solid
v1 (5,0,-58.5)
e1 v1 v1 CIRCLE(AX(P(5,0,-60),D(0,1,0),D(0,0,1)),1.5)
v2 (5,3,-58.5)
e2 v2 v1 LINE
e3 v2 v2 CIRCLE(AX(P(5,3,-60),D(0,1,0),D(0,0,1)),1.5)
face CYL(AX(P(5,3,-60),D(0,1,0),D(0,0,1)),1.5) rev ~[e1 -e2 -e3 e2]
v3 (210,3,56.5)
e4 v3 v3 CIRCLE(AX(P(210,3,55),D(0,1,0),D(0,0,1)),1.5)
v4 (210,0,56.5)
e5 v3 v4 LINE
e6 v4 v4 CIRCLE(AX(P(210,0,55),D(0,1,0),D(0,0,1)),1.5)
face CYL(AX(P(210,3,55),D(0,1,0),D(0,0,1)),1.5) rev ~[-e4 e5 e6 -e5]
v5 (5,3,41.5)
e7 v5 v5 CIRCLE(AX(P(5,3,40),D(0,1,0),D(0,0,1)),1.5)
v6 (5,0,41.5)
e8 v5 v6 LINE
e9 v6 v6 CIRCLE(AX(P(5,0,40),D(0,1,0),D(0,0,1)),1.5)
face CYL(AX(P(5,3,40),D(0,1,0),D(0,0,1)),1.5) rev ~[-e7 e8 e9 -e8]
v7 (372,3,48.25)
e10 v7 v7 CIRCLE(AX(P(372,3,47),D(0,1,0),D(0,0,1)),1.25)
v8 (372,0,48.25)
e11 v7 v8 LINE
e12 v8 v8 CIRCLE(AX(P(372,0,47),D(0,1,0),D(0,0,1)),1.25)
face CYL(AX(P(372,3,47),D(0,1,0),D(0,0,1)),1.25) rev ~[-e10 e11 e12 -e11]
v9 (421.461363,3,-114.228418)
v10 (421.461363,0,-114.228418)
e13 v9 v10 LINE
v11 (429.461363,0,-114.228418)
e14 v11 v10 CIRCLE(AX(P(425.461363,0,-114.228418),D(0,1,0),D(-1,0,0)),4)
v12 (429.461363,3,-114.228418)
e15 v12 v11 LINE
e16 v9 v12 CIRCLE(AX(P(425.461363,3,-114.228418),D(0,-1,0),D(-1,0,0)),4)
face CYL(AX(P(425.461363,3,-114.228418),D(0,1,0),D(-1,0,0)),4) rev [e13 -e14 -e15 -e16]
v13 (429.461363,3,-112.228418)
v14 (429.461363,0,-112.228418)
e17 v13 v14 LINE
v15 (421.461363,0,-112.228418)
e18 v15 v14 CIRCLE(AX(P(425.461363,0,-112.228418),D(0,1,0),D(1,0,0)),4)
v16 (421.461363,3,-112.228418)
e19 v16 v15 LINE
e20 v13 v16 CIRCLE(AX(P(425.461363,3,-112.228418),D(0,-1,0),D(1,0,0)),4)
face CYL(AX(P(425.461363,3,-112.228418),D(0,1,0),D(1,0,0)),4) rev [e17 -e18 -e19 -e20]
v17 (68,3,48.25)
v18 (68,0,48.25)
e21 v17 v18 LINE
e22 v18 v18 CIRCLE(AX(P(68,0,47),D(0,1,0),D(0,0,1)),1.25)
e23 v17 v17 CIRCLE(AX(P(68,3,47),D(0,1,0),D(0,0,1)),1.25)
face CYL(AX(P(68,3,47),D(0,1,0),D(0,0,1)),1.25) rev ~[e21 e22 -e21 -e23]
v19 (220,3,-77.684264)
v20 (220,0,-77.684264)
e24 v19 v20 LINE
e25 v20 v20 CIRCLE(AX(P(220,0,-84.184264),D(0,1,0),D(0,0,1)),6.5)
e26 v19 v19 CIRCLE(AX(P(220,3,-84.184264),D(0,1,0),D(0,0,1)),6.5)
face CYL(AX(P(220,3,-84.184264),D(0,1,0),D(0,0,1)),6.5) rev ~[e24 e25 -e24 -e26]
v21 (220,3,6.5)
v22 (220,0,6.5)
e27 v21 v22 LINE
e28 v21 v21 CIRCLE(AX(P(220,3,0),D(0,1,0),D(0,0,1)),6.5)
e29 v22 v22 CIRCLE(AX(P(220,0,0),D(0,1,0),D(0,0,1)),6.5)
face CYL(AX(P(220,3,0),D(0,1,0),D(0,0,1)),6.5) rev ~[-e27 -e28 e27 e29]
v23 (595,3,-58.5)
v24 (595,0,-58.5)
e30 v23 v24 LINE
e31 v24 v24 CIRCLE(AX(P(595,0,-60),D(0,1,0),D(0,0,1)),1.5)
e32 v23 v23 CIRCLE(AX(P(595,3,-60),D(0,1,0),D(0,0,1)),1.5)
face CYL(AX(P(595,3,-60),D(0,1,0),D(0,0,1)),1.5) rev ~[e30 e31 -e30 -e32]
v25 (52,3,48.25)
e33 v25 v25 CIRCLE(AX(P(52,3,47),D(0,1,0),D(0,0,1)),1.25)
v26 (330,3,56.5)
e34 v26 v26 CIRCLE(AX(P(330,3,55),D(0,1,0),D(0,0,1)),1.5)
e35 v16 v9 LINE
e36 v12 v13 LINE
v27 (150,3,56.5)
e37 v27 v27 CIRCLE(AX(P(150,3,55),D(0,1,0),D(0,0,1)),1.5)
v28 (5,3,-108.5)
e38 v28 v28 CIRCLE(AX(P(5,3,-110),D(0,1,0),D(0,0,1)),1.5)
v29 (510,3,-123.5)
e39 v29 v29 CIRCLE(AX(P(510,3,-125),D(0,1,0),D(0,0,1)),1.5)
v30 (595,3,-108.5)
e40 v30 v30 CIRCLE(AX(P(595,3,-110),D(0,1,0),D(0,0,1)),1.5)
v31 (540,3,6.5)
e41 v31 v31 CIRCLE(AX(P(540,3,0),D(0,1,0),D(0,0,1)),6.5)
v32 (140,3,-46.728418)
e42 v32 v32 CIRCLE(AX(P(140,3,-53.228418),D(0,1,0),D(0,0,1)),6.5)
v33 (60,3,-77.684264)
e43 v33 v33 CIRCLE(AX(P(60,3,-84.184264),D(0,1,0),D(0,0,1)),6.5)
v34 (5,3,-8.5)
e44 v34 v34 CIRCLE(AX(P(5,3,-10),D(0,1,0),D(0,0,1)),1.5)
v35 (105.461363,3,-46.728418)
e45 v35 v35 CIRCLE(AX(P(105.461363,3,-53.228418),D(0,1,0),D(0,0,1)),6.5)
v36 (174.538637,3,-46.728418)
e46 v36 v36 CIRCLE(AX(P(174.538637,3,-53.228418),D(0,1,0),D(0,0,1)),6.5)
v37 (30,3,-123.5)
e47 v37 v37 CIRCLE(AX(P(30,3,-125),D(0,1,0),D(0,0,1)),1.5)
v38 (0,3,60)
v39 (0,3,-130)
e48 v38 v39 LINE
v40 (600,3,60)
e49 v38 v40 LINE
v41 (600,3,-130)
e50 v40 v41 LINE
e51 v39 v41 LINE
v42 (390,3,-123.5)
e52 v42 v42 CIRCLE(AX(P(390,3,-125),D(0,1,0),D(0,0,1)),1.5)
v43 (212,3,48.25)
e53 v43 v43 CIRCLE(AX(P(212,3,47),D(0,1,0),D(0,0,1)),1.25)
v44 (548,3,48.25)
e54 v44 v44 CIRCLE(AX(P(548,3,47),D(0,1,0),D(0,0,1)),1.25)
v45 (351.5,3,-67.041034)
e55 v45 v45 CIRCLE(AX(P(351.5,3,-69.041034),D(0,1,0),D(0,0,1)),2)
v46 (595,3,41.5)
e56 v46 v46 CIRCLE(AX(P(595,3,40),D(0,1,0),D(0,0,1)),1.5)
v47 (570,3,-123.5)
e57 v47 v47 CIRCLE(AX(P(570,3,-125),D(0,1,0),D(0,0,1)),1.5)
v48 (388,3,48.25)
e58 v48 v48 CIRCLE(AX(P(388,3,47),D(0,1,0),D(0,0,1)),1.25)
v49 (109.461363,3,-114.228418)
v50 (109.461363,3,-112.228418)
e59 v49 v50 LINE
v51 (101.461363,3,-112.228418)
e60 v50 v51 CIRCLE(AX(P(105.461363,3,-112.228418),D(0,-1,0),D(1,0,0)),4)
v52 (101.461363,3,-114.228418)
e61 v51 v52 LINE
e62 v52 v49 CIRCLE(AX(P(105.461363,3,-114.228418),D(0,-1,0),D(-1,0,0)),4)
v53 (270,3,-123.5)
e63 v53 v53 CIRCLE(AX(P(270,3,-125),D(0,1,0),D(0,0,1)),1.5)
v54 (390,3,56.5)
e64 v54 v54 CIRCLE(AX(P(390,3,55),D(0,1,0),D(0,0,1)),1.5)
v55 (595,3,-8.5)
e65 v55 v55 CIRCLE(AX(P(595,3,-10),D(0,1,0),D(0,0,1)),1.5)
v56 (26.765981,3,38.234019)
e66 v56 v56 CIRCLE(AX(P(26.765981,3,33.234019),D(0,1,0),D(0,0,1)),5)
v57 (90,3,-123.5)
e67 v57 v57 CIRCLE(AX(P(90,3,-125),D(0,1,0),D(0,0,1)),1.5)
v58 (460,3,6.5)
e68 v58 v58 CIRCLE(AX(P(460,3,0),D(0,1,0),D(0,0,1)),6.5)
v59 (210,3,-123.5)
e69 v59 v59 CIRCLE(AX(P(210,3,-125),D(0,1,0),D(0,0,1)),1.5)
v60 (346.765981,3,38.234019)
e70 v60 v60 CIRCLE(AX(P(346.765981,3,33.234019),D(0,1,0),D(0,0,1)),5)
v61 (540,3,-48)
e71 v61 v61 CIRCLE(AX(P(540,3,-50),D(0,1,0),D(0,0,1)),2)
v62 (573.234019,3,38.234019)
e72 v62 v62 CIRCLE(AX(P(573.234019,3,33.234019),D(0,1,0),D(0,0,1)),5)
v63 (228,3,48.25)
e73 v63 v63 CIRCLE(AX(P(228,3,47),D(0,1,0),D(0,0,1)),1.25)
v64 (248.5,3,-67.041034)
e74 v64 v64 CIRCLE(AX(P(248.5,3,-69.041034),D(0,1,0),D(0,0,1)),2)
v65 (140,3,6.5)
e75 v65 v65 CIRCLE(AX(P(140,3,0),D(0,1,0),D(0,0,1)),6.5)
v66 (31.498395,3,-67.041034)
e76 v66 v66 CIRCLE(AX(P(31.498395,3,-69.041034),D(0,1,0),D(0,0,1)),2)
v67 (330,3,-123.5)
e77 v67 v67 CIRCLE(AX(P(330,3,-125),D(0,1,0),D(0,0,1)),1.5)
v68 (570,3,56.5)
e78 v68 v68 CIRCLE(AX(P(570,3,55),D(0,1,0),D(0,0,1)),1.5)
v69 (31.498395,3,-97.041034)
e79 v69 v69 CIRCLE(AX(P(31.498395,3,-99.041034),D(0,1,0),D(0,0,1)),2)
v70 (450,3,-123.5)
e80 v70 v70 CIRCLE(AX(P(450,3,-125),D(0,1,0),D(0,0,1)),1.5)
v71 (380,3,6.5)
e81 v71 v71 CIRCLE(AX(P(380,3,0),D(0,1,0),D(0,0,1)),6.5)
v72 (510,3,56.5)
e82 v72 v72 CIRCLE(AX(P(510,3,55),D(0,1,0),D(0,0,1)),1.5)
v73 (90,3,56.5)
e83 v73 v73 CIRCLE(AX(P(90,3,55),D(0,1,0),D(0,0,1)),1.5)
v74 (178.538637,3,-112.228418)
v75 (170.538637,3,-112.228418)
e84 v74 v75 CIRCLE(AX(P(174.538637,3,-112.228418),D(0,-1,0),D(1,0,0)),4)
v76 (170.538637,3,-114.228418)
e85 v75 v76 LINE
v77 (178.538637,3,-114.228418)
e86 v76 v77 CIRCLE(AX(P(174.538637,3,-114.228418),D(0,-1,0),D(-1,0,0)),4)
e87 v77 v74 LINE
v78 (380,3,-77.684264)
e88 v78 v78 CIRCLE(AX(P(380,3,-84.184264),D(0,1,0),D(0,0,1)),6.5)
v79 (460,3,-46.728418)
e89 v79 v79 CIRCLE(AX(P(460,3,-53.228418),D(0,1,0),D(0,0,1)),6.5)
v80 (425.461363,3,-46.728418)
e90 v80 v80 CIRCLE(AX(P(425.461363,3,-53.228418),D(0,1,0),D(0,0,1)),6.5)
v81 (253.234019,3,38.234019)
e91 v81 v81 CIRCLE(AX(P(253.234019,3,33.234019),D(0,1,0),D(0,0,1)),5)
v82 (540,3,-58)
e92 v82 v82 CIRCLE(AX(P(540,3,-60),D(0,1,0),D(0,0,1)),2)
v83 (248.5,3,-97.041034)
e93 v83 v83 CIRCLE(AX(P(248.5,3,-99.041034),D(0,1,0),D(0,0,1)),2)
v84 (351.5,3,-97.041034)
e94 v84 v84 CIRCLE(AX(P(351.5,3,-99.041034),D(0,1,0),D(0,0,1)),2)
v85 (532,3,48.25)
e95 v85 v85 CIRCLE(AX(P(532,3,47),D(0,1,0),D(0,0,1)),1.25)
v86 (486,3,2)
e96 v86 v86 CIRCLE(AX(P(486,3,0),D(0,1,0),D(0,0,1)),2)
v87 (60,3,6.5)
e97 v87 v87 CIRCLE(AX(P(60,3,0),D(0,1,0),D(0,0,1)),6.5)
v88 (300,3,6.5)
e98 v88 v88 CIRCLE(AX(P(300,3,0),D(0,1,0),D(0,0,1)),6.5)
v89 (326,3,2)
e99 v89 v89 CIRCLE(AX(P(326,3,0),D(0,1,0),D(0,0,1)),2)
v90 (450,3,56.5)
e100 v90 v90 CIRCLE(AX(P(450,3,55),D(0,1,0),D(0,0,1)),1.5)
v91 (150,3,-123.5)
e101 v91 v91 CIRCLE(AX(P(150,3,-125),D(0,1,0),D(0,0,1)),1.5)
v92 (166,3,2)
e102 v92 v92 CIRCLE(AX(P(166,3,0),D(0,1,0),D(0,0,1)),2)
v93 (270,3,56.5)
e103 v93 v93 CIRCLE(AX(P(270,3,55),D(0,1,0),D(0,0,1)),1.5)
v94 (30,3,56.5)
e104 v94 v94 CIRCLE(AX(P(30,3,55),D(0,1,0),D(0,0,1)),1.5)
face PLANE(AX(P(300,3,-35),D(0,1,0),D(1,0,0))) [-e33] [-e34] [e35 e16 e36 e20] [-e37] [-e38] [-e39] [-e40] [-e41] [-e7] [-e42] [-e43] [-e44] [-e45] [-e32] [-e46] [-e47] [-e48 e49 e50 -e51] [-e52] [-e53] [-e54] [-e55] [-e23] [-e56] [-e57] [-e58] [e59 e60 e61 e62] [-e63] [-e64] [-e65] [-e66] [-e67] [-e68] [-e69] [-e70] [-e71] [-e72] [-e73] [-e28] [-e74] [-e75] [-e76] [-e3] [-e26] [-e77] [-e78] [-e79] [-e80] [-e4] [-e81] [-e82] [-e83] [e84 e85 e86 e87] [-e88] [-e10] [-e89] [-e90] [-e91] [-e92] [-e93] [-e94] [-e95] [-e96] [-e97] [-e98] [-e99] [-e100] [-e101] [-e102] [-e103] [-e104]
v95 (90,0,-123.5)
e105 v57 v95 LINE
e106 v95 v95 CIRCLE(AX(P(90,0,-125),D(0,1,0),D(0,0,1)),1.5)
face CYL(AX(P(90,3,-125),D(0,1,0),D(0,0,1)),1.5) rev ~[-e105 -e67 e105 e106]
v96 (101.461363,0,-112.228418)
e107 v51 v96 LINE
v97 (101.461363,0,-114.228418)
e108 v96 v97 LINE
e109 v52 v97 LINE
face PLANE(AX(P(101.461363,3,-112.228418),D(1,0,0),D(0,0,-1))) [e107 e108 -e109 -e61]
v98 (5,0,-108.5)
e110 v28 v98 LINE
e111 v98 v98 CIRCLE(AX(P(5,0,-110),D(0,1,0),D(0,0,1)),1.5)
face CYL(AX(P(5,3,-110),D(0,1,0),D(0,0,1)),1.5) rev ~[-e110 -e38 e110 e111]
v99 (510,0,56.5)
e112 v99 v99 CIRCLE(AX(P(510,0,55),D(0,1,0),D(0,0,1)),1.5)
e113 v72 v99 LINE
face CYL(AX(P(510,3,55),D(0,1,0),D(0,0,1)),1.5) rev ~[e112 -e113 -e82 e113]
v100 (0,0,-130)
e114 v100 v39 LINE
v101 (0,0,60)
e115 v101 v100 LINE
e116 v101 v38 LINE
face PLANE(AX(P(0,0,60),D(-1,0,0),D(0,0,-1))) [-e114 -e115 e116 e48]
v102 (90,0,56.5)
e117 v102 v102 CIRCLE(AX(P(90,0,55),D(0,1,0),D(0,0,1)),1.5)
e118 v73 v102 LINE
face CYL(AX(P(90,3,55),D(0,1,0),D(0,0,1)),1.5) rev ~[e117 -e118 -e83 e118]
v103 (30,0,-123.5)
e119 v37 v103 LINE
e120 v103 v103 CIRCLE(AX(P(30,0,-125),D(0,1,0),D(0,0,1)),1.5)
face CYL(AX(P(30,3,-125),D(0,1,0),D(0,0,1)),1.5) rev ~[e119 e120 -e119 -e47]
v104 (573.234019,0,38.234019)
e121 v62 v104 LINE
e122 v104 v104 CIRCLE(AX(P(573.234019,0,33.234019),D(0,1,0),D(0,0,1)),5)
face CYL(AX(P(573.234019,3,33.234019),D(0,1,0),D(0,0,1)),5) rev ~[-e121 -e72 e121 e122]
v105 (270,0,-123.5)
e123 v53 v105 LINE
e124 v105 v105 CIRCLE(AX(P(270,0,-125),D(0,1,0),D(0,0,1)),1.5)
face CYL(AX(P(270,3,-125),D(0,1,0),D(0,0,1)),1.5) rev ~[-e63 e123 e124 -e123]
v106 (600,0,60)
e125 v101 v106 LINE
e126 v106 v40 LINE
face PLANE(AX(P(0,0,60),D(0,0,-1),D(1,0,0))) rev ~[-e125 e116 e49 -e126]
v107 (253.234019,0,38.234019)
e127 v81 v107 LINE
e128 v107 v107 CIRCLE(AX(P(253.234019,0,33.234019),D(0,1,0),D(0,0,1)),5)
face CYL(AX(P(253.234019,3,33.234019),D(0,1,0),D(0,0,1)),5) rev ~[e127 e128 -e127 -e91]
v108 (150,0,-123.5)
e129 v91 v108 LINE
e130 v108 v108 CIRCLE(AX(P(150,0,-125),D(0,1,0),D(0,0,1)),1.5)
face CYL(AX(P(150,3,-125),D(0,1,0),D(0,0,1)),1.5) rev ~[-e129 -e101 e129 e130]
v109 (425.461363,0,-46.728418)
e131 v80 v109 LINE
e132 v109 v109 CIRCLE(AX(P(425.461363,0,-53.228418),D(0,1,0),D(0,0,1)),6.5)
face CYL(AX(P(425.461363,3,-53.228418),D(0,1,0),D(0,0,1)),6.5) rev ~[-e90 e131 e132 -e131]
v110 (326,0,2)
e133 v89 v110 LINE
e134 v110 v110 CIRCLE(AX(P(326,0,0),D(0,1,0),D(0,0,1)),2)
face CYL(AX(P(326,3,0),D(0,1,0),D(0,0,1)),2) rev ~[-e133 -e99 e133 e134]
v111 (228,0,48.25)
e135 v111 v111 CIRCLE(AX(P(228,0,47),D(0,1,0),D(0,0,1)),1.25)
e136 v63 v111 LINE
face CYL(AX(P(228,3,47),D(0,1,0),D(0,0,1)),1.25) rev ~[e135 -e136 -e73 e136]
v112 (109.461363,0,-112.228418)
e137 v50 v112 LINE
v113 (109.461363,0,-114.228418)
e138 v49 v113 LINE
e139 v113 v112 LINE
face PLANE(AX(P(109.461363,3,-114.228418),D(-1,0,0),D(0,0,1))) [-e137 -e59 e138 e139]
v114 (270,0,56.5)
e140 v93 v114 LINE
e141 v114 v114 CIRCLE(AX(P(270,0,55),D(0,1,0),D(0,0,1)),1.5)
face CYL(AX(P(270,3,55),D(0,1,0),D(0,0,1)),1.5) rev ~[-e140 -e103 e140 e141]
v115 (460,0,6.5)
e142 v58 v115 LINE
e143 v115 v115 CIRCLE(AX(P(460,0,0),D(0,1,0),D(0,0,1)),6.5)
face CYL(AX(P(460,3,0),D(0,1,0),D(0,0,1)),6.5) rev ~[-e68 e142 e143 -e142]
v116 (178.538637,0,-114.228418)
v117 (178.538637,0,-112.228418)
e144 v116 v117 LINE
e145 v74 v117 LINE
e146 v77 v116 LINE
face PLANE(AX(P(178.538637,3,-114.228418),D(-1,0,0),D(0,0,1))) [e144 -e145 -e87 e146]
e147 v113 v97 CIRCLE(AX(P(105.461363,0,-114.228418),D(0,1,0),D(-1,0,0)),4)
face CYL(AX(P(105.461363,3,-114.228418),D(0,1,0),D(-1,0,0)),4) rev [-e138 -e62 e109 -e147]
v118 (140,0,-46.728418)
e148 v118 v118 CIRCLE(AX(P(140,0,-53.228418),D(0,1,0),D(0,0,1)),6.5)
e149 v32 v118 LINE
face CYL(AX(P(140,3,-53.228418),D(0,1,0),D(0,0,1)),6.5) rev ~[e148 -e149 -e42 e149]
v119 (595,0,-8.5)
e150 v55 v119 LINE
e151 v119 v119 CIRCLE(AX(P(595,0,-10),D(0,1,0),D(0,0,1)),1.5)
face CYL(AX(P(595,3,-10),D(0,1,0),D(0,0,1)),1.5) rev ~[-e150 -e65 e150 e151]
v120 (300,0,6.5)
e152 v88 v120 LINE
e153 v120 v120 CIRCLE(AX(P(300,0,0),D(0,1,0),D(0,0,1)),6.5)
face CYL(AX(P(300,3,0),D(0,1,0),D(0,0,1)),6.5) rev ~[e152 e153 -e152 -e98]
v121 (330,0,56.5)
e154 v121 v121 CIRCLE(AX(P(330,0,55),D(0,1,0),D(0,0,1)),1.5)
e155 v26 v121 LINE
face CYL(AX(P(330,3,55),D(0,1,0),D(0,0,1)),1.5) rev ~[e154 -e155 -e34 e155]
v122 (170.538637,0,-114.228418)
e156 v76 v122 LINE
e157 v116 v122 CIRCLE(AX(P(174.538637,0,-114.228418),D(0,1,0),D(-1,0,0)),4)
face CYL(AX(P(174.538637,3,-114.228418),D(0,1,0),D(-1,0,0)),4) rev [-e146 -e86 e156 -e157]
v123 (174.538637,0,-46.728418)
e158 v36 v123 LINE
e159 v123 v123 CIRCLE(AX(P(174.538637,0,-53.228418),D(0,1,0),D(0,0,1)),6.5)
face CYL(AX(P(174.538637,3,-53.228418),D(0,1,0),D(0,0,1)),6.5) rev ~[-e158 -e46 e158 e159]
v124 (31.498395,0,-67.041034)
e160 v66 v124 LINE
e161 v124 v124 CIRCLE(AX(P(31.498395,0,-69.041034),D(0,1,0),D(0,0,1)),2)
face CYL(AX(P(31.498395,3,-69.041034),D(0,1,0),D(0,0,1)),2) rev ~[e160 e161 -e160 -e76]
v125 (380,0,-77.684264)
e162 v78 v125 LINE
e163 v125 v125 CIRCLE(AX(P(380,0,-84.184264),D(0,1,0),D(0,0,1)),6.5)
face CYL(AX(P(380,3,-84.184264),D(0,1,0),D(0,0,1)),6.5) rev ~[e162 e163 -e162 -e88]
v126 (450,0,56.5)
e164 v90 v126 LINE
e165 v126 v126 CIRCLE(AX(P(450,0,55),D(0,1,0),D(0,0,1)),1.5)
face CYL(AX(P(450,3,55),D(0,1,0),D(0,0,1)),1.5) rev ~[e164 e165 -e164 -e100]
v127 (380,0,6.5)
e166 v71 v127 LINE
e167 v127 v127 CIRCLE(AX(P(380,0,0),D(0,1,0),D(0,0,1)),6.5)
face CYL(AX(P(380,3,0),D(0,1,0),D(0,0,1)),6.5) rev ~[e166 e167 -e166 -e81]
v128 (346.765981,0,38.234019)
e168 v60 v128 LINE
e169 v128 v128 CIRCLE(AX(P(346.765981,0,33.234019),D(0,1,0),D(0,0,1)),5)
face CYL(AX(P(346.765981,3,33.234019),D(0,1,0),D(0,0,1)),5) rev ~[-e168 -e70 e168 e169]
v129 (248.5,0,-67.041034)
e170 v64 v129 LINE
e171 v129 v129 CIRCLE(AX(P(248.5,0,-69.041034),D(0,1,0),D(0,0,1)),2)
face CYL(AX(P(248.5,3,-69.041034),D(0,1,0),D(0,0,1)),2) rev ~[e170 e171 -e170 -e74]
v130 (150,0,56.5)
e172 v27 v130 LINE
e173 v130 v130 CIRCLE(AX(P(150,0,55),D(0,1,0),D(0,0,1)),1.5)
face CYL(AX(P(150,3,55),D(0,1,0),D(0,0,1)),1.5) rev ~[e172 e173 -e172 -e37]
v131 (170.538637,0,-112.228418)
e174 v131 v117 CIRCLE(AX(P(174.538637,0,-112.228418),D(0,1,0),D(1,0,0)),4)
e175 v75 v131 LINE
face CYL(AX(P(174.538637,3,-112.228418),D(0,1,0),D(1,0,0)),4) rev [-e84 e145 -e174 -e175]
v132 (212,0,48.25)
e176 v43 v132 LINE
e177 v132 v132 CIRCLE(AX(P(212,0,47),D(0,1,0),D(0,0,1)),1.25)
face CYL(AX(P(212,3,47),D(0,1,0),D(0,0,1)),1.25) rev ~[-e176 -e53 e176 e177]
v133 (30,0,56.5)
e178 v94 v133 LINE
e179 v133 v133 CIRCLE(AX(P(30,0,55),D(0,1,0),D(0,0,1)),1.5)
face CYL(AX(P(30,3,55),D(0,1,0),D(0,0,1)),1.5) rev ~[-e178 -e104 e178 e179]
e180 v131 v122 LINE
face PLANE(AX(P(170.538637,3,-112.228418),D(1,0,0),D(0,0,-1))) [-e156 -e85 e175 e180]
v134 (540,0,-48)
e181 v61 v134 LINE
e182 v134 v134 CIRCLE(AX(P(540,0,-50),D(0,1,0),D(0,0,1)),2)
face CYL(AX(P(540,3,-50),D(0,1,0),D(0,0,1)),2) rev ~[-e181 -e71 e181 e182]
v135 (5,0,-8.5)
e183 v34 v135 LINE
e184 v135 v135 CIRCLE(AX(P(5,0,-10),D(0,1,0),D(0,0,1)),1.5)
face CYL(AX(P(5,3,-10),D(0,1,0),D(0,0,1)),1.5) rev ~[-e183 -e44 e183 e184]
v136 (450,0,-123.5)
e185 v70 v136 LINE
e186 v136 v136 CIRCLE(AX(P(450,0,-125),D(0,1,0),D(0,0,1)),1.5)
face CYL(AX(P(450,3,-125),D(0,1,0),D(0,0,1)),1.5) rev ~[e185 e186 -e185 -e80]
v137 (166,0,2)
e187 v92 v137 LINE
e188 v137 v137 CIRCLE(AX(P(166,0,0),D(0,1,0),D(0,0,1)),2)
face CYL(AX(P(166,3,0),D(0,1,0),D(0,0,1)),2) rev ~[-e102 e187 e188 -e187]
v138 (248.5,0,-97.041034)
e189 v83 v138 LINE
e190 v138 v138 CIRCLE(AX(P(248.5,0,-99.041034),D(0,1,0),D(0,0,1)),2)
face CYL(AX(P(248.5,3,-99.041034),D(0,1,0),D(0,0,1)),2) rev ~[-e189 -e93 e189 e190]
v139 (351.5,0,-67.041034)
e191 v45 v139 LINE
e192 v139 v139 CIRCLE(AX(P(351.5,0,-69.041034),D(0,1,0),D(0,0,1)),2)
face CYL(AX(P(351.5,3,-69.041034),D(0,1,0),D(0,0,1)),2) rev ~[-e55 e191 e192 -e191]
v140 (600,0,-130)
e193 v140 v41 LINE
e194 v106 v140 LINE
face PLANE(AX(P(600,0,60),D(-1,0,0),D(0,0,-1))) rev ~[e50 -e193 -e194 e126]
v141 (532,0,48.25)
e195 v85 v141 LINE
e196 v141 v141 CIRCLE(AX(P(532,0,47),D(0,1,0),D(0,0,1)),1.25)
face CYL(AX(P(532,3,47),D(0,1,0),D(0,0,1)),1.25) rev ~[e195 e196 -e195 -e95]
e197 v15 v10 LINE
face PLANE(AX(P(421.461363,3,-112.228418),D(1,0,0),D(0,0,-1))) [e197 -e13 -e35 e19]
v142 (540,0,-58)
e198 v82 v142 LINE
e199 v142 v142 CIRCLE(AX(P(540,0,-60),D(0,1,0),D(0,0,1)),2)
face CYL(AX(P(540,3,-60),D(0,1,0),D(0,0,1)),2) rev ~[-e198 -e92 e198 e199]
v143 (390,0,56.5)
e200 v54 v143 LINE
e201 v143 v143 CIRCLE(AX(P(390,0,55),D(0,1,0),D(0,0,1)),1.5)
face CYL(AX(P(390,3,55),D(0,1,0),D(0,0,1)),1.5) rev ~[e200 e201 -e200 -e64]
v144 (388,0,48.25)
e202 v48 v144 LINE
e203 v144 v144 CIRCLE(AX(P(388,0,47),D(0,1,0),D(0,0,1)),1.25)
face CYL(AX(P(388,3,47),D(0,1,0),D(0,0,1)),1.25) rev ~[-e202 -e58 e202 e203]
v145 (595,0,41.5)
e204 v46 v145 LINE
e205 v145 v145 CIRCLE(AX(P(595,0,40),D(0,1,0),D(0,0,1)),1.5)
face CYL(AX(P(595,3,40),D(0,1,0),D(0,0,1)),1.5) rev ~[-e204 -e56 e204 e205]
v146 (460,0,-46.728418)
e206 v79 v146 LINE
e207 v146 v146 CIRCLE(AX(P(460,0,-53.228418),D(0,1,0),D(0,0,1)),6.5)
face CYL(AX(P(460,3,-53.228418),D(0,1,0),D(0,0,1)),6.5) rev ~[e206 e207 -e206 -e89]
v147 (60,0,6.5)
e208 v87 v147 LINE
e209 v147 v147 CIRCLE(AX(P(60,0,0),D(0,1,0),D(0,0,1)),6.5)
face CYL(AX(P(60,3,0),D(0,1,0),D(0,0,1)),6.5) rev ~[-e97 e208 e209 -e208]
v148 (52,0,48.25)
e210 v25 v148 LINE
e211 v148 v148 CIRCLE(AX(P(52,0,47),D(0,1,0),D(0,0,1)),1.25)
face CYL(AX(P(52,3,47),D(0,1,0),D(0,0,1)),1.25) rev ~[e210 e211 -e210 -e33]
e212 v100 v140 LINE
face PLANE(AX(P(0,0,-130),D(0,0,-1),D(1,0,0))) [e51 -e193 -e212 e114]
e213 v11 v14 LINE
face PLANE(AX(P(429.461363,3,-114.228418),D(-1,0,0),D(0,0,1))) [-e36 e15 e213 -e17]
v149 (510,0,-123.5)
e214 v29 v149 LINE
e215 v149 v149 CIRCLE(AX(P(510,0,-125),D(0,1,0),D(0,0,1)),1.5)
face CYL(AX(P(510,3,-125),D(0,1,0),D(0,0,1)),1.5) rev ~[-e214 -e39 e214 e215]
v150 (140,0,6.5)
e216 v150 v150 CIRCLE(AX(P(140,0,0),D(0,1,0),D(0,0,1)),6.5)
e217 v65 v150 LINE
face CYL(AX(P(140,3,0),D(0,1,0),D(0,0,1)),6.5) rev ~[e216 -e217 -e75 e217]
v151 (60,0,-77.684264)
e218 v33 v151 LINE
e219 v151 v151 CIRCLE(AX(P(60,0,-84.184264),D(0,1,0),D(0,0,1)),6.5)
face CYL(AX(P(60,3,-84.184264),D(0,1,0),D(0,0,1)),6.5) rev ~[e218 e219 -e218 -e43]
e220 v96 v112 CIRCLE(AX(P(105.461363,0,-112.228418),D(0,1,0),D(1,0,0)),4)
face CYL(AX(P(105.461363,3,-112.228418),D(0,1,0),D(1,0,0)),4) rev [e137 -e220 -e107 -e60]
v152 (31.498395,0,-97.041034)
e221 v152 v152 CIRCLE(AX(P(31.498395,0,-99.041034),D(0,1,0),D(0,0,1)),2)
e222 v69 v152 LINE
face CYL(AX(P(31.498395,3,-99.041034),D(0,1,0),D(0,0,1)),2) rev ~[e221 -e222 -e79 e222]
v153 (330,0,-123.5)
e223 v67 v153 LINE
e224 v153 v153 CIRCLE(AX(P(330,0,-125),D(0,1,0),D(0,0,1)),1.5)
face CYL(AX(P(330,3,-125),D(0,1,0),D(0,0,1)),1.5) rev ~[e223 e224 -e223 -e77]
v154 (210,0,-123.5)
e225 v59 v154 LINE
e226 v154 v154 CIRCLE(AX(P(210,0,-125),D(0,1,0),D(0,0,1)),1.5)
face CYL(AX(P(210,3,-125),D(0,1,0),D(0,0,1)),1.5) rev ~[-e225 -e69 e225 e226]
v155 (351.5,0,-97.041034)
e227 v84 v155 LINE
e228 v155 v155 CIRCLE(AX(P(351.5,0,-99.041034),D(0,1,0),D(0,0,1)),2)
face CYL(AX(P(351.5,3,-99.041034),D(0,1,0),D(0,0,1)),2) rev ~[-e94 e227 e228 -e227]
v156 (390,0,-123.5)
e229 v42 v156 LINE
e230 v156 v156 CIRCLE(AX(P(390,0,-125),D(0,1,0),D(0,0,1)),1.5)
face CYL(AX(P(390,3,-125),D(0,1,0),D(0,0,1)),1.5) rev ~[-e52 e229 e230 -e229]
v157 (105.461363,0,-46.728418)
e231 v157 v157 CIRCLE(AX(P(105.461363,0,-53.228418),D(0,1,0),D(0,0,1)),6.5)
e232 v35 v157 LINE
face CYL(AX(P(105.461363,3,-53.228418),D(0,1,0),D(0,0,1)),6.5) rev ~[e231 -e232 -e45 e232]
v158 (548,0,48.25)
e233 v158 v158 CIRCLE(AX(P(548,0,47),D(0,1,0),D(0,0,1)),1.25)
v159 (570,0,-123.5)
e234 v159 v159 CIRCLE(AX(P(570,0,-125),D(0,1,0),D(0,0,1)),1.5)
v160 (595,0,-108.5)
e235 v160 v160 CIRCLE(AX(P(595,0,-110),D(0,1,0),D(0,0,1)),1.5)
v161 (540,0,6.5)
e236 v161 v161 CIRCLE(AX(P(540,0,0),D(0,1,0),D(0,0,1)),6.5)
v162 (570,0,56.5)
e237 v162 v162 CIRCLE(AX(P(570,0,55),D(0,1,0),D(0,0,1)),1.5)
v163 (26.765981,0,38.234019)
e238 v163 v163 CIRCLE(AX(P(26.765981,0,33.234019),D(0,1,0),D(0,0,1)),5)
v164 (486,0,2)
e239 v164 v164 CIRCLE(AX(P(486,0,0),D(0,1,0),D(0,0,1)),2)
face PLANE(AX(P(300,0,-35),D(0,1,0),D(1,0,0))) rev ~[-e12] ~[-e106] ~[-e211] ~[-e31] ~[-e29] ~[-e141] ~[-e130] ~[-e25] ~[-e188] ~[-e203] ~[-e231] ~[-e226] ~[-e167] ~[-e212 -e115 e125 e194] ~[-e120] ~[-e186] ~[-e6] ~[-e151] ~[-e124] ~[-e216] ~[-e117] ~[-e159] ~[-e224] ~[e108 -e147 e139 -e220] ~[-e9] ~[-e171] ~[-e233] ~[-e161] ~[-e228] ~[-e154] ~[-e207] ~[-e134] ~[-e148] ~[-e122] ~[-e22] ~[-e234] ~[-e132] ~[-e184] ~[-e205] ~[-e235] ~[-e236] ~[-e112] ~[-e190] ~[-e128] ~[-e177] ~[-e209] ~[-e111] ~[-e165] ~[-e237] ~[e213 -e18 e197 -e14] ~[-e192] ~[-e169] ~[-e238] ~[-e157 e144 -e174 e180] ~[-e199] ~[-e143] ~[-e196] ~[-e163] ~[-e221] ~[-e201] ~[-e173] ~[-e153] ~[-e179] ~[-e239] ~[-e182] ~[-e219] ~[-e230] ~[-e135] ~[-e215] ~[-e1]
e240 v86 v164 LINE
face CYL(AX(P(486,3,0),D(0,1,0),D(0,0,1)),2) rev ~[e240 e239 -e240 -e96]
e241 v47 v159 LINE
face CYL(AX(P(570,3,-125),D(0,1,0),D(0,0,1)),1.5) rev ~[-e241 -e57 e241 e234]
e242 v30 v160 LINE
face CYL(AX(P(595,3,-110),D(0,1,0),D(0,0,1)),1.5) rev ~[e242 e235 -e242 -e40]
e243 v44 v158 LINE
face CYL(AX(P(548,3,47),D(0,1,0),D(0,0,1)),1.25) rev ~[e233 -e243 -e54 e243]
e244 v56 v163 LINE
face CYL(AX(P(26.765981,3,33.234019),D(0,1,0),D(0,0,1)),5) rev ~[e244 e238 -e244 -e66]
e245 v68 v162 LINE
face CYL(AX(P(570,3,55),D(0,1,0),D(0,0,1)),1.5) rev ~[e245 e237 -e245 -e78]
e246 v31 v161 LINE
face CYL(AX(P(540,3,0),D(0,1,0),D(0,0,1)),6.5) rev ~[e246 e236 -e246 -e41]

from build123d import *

# Parameters (mm, degrees)
SKETCH1_W           = 600
SKETCH1_H           = 190
EXTRUDE1_DEPTH      = 3
SKETCH2_R           = 6.5
CUT_EXTRUDE1_DEPTH  = 614.929149007
SKETCH5_R           = 2
CUT_EXTRUDE3_DEPTH  = 614.929149007
SKETCH8_R           = 6.5
SKETCH8_R_2         = 2
CUT_EXTRUDE4_DEPTH  = 614.929149007
SKETCH10_R          = 6.5
CUT_EXTRUDE5_DEPTH  = 614.929149007
SKETCH12_R          = 6.5
CUT_EXTRUDE6_DEPTH  = 614.929149007
SKETCH14_R          = 1.25
CUT_EXTRUDE7_DEPTH  = 614.929149007
SKETCH15_R          = 5
CUT_EXTRUDE8_DEPTH  = 614.929149007
CUT_EXTRUDE10_DEPTH = 614.929149007
SKETCH25_R          = 1.5
CUT_EXTRUDE11_DEPTH = 614.929149007
LPATTERN1_COUNT     = 10
LPATTERN1_PITCH     = 60
SKETCH26_R          = 1.5
CUT_EXTRUDE12_DEPTH = 614.929149007
SKETCH27_R          = 2
CUT_EXTRUDE13_DEPTH = 614.929149007


with BuildPart() as part:
    # Sketch1 → Extrude1 (new body)
    with BuildSketch(Plane(origin=(0, 0, 0), x_dir=(1, 0, 0), z_dir=(0, 1, 0))):
        with Locations((300, 35)):
            Rectangle(SKETCH1_W, SKETCH1_H)
    extrude(amount=EXTRUDE1_DEPTH)

    # Sketch2 → Cut-Extrude1 (cut, through all)
    with BuildSketch(Plane(origin=(0, 3, 0), x_dir=(-1, 0, 0), z_dir=(0, 1, 0))):
        with Locations((-60, 0)):
            Circle(SKETCH2_R)
        with Locations((-140, 0)):
            Circle(SKETCH2_R)
        with Locations((-220, 0)):
            Circle(SKETCH2_R)
        with Locations((-300, 0)):
            Circle(SKETCH2_R)
        with Locations((-380, 0)):
            Circle(SKETCH2_R)
        with Locations((-460, 0)):
            Circle(SKETCH2_R)
        with Locations((-540, 0)):
            Circle(SKETCH2_R)
    extrude(amount=-CUT_EXTRUDE1_DEPTH, mode=Mode.SUBTRACT)

    # Sketch5 → Cut-Extrude3 (cut, through all)
    with BuildSketch(Plane(origin=(0, 3, 0), x_dir=(-1, 0, 0), z_dir=(0, 1, 0))):
        with Locations((-166, 0)):
            Circle(SKETCH5_R)
        with Locations((-326, 0)):
            Circle(SKETCH5_R)
        with Locations((-486, 0)):
            Circle(SKETCH5_R)
    extrude(amount=-CUT_EXTRUDE3_DEPTH, mode=Mode.SUBTRACT)

    # Sketch8 → Cut-Extrude4 (cut, through all)
    with BuildSketch(Plane(origin=(0, 3, 0), x_dir=(-1, 0, 0), z_dir=(0, 1, 0))):
        with Locations((-105.461363383, -53.228417592)):
            Circle(SKETCH8_R)
        with Locations((-540, -60)):
            Circle(SKETCH8_R_2)
        with Locations((-425.461363383, -53.228417592)):
            Circle(SKETCH8_R)
        with Locations((-174.538636617, -53.228417592)):
            Circle(SKETCH8_R)
        with Locations((-540, -50)):
            Circle(SKETCH8_R_2)
    extrude(amount=-CUT_EXTRUDE4_DEPTH, mode=Mode.SUBTRACT)

    # Sketch10 → Cut-Extrude5 (cut, through all)
    with BuildSketch(Plane(origin=(0, 3, 0), x_dir=(-1, 0, 0), z_dir=(0, 1, 0))):
        with Locations((-60, -84.184264202)):
            Circle(SKETCH10_R)
        with Locations((-220, -84.184264202)):
            Circle(SKETCH10_R)
        with Locations((-380, -84.184264202)):
            Circle(SKETCH10_R)
    extrude(amount=-CUT_EXTRUDE5_DEPTH, mode=Mode.SUBTRACT)

    # Sketch12 → Cut-Extrude6 (cut, through all)
    with BuildSketch(Plane(origin=(0, 3, 0), x_dir=(-1, 0, 0), z_dir=(0, 1, 0))):
        with Locations((-140, -53.228417592)):
            Circle(SKETCH12_R)
        with Locations((-460, -53.228417592)):
            Circle(SKETCH12_R)
    extrude(amount=-CUT_EXTRUDE6_DEPTH, mode=Mode.SUBTRACT)

    # Sketch14 → Cut-Extrude7 (cut, through all)
    with BuildSketch(Plane(origin=(0, 3, 0), x_dir=(-1, 0, 0), z_dir=(0, 1, 0))):
        with Locations((-52, 47)):
            Circle(SKETCH14_R)
        with Locations((-68, 47)):
            Circle(SKETCH14_R)
        with Locations((-212, 47)):
            Circle(SKETCH14_R)
        with Locations((-228, 47)):
            Circle(SKETCH14_R)
        with Locations((-372, 47)):
            Circle(SKETCH14_R)
        with Locations((-388, 47)):
            Circle(SKETCH14_R)
        with Locations((-532, 47)):
            Circle(SKETCH14_R)
        with Locations((-548, 47)):
            Circle(SKETCH14_R)
    extrude(amount=-CUT_EXTRUDE7_DEPTH, mode=Mode.SUBTRACT)

    # Sketch15 → Cut-Extrude8 (cut, through all)
    with BuildSketch(Plane(origin=(0, 3, 0), x_dir=(-1, 0, 0), z_dir=(0, 1, 0))):
        with Locations((-573.234018716, 33.234018716)):
            Circle(SKETCH15_R)
        with Locations((-26.765981284, 33.234018716)):
            Circle(SKETCH15_R)
        with Locations((-253.234018716, 33.234018716)):
            Circle(SKETCH15_R)
        with Locations((-346.765981284, 33.234018716)):
            Circle(SKETCH15_R)
    extrude(amount=-CUT_EXTRUDE8_DEPTH, mode=Mode.SUBTRACT)

    # Sketch23 → Cut-Extrude10 (cut, through all)
    with BuildSketch(Plane(origin=(0, 3, 0), x_dir=(-1, 0, 0), z_dir=(0, 1, 0))):
        with BuildLine():
            Line((-101.461363383, -112.228417592), (-101.461363383, -114.228417592))
            ThreePointArc((-101.461363383, -114.228417592), (-105.461363383, -118.228417592), (-109.461363383, -114.228417592))
            Line((-109.461363383, -114.228417592), (-109.461363383, -112.228417592))
            ThreePointArc((-109.461363383, -112.228417592), (-105.461363383, -108.228417592), (-101.461363383, -112.228417592))
        make_face()
        with BuildLine():
            Line((-170.538636617, -112.228417592), (-170.538636617, -114.228417592))
            ThreePointArc((-170.538636617, -114.228417592), (-174.538636617, -118.228417592), (-178.538636617, -114.228417592))
            Line((-178.538636617, -114.228417592), (-178.538636617, -112.228417592))
            ThreePointArc((-178.538636617, -112.228417592), (-174.538636617, -108.228417592), (-170.538636617, -112.228417592))
        make_face()
        with BuildLine():
            Line((-421.461363383, -112.228417592), (-421.461363383, -114.228417592))
            ThreePointArc((-421.461363383, -114.228417592), (-425.461363383, -118.228417592), (-429.461363383, -114.228417592))
            Line((-429.461363383, -114.228417592), (-429.461363383, -112.228417592))
            ThreePointArc((-429.461363383, -112.228417592), (-425.461363383, -108.228417592), (-421.461363383, -112.228417592))
        make_face()
    extrude(amount=-CUT_EXTRUDE10_DEPTH, mode=Mode.SUBTRACT)

    # Sketch25 → Cut-Extrude11 (cut, through all)
    with BuildSketch(Plane(origin=(0, 3, 0), x_dir=(-1, 0, 0), z_dir=(0, 1, 0))):
        with Locations((-30, 55)):
            Circle(SKETCH25_R)
        with Locations((-30, -125)):
            Circle(SKETCH25_R)
    cut_extrude11 = extrude(amount=-CUT_EXTRUDE11_DEPTH, mode=Mode.SUBTRACT)

    # LPattern1: Cut-Extrude11 ×10
    with Locations(*[(i * LPATTERN1_PITCH, 0, 0) for i in range(1, LPATTERN1_COUNT)]):
        add(cut_extrude11, mode=Mode.SUBTRACT)

    # Sketch26 → Cut-Extrude12 (cut, through all)
    with BuildSketch(Plane(origin=(0, 3, 0), x_dir=(-1, 0, 0), z_dir=(0, 1, 0))):
        with Locations((-5, -110)):
            Circle(SKETCH26_R)
        with Locations((-5, -60)):
            Circle(SKETCH26_R)
        with Locations((-5, 40)):
            Circle(SKETCH26_R)
        with Locations((-5, -10)):
            Circle(SKETCH26_R)
        with Locations((-595, -110)):
            Circle(SKETCH26_R)
        with Locations((-595, -60)):
            Circle(SKETCH26_R)
        with Locations((-595, -10)):
            Circle(SKETCH26_R)
        with Locations((-595, 40)):
            Circle(SKETCH26_R)
    extrude(amount=-CUT_EXTRUDE12_DEPTH, mode=Mode.SUBTRACT)

    # Sketch27 → Cut-Extrude13 (cut, through all)
    with BuildSketch(Plane(origin=(0, 3, 0), x_dir=(-1, 0, 0), z_dir=(0, 1, 0))):
        with Locations((-351.5, -99.041033847)):
            Circle(SKETCH27_R)
        with Locations((-351.5, -69.041033847)):
            Circle(SKETCH27_R)
        with Locations((-248.5, -99.041033847)):
            Circle(SKETCH27_R)
        with Locations((-248.5, -69.041033847)):
            Circle(SKETCH27_R)
        with Locations((-31.498394821, -99.041033847)):
            Circle(SKETCH27_R)
        with Locations((-31.498394821, -69.041033847)):
            Circle(SKETCH27_R)
    extrude(amount=-CUT_EXTRUDE13_DEPTH, mode=Mode.SUBTRACT)


solid = part.part
